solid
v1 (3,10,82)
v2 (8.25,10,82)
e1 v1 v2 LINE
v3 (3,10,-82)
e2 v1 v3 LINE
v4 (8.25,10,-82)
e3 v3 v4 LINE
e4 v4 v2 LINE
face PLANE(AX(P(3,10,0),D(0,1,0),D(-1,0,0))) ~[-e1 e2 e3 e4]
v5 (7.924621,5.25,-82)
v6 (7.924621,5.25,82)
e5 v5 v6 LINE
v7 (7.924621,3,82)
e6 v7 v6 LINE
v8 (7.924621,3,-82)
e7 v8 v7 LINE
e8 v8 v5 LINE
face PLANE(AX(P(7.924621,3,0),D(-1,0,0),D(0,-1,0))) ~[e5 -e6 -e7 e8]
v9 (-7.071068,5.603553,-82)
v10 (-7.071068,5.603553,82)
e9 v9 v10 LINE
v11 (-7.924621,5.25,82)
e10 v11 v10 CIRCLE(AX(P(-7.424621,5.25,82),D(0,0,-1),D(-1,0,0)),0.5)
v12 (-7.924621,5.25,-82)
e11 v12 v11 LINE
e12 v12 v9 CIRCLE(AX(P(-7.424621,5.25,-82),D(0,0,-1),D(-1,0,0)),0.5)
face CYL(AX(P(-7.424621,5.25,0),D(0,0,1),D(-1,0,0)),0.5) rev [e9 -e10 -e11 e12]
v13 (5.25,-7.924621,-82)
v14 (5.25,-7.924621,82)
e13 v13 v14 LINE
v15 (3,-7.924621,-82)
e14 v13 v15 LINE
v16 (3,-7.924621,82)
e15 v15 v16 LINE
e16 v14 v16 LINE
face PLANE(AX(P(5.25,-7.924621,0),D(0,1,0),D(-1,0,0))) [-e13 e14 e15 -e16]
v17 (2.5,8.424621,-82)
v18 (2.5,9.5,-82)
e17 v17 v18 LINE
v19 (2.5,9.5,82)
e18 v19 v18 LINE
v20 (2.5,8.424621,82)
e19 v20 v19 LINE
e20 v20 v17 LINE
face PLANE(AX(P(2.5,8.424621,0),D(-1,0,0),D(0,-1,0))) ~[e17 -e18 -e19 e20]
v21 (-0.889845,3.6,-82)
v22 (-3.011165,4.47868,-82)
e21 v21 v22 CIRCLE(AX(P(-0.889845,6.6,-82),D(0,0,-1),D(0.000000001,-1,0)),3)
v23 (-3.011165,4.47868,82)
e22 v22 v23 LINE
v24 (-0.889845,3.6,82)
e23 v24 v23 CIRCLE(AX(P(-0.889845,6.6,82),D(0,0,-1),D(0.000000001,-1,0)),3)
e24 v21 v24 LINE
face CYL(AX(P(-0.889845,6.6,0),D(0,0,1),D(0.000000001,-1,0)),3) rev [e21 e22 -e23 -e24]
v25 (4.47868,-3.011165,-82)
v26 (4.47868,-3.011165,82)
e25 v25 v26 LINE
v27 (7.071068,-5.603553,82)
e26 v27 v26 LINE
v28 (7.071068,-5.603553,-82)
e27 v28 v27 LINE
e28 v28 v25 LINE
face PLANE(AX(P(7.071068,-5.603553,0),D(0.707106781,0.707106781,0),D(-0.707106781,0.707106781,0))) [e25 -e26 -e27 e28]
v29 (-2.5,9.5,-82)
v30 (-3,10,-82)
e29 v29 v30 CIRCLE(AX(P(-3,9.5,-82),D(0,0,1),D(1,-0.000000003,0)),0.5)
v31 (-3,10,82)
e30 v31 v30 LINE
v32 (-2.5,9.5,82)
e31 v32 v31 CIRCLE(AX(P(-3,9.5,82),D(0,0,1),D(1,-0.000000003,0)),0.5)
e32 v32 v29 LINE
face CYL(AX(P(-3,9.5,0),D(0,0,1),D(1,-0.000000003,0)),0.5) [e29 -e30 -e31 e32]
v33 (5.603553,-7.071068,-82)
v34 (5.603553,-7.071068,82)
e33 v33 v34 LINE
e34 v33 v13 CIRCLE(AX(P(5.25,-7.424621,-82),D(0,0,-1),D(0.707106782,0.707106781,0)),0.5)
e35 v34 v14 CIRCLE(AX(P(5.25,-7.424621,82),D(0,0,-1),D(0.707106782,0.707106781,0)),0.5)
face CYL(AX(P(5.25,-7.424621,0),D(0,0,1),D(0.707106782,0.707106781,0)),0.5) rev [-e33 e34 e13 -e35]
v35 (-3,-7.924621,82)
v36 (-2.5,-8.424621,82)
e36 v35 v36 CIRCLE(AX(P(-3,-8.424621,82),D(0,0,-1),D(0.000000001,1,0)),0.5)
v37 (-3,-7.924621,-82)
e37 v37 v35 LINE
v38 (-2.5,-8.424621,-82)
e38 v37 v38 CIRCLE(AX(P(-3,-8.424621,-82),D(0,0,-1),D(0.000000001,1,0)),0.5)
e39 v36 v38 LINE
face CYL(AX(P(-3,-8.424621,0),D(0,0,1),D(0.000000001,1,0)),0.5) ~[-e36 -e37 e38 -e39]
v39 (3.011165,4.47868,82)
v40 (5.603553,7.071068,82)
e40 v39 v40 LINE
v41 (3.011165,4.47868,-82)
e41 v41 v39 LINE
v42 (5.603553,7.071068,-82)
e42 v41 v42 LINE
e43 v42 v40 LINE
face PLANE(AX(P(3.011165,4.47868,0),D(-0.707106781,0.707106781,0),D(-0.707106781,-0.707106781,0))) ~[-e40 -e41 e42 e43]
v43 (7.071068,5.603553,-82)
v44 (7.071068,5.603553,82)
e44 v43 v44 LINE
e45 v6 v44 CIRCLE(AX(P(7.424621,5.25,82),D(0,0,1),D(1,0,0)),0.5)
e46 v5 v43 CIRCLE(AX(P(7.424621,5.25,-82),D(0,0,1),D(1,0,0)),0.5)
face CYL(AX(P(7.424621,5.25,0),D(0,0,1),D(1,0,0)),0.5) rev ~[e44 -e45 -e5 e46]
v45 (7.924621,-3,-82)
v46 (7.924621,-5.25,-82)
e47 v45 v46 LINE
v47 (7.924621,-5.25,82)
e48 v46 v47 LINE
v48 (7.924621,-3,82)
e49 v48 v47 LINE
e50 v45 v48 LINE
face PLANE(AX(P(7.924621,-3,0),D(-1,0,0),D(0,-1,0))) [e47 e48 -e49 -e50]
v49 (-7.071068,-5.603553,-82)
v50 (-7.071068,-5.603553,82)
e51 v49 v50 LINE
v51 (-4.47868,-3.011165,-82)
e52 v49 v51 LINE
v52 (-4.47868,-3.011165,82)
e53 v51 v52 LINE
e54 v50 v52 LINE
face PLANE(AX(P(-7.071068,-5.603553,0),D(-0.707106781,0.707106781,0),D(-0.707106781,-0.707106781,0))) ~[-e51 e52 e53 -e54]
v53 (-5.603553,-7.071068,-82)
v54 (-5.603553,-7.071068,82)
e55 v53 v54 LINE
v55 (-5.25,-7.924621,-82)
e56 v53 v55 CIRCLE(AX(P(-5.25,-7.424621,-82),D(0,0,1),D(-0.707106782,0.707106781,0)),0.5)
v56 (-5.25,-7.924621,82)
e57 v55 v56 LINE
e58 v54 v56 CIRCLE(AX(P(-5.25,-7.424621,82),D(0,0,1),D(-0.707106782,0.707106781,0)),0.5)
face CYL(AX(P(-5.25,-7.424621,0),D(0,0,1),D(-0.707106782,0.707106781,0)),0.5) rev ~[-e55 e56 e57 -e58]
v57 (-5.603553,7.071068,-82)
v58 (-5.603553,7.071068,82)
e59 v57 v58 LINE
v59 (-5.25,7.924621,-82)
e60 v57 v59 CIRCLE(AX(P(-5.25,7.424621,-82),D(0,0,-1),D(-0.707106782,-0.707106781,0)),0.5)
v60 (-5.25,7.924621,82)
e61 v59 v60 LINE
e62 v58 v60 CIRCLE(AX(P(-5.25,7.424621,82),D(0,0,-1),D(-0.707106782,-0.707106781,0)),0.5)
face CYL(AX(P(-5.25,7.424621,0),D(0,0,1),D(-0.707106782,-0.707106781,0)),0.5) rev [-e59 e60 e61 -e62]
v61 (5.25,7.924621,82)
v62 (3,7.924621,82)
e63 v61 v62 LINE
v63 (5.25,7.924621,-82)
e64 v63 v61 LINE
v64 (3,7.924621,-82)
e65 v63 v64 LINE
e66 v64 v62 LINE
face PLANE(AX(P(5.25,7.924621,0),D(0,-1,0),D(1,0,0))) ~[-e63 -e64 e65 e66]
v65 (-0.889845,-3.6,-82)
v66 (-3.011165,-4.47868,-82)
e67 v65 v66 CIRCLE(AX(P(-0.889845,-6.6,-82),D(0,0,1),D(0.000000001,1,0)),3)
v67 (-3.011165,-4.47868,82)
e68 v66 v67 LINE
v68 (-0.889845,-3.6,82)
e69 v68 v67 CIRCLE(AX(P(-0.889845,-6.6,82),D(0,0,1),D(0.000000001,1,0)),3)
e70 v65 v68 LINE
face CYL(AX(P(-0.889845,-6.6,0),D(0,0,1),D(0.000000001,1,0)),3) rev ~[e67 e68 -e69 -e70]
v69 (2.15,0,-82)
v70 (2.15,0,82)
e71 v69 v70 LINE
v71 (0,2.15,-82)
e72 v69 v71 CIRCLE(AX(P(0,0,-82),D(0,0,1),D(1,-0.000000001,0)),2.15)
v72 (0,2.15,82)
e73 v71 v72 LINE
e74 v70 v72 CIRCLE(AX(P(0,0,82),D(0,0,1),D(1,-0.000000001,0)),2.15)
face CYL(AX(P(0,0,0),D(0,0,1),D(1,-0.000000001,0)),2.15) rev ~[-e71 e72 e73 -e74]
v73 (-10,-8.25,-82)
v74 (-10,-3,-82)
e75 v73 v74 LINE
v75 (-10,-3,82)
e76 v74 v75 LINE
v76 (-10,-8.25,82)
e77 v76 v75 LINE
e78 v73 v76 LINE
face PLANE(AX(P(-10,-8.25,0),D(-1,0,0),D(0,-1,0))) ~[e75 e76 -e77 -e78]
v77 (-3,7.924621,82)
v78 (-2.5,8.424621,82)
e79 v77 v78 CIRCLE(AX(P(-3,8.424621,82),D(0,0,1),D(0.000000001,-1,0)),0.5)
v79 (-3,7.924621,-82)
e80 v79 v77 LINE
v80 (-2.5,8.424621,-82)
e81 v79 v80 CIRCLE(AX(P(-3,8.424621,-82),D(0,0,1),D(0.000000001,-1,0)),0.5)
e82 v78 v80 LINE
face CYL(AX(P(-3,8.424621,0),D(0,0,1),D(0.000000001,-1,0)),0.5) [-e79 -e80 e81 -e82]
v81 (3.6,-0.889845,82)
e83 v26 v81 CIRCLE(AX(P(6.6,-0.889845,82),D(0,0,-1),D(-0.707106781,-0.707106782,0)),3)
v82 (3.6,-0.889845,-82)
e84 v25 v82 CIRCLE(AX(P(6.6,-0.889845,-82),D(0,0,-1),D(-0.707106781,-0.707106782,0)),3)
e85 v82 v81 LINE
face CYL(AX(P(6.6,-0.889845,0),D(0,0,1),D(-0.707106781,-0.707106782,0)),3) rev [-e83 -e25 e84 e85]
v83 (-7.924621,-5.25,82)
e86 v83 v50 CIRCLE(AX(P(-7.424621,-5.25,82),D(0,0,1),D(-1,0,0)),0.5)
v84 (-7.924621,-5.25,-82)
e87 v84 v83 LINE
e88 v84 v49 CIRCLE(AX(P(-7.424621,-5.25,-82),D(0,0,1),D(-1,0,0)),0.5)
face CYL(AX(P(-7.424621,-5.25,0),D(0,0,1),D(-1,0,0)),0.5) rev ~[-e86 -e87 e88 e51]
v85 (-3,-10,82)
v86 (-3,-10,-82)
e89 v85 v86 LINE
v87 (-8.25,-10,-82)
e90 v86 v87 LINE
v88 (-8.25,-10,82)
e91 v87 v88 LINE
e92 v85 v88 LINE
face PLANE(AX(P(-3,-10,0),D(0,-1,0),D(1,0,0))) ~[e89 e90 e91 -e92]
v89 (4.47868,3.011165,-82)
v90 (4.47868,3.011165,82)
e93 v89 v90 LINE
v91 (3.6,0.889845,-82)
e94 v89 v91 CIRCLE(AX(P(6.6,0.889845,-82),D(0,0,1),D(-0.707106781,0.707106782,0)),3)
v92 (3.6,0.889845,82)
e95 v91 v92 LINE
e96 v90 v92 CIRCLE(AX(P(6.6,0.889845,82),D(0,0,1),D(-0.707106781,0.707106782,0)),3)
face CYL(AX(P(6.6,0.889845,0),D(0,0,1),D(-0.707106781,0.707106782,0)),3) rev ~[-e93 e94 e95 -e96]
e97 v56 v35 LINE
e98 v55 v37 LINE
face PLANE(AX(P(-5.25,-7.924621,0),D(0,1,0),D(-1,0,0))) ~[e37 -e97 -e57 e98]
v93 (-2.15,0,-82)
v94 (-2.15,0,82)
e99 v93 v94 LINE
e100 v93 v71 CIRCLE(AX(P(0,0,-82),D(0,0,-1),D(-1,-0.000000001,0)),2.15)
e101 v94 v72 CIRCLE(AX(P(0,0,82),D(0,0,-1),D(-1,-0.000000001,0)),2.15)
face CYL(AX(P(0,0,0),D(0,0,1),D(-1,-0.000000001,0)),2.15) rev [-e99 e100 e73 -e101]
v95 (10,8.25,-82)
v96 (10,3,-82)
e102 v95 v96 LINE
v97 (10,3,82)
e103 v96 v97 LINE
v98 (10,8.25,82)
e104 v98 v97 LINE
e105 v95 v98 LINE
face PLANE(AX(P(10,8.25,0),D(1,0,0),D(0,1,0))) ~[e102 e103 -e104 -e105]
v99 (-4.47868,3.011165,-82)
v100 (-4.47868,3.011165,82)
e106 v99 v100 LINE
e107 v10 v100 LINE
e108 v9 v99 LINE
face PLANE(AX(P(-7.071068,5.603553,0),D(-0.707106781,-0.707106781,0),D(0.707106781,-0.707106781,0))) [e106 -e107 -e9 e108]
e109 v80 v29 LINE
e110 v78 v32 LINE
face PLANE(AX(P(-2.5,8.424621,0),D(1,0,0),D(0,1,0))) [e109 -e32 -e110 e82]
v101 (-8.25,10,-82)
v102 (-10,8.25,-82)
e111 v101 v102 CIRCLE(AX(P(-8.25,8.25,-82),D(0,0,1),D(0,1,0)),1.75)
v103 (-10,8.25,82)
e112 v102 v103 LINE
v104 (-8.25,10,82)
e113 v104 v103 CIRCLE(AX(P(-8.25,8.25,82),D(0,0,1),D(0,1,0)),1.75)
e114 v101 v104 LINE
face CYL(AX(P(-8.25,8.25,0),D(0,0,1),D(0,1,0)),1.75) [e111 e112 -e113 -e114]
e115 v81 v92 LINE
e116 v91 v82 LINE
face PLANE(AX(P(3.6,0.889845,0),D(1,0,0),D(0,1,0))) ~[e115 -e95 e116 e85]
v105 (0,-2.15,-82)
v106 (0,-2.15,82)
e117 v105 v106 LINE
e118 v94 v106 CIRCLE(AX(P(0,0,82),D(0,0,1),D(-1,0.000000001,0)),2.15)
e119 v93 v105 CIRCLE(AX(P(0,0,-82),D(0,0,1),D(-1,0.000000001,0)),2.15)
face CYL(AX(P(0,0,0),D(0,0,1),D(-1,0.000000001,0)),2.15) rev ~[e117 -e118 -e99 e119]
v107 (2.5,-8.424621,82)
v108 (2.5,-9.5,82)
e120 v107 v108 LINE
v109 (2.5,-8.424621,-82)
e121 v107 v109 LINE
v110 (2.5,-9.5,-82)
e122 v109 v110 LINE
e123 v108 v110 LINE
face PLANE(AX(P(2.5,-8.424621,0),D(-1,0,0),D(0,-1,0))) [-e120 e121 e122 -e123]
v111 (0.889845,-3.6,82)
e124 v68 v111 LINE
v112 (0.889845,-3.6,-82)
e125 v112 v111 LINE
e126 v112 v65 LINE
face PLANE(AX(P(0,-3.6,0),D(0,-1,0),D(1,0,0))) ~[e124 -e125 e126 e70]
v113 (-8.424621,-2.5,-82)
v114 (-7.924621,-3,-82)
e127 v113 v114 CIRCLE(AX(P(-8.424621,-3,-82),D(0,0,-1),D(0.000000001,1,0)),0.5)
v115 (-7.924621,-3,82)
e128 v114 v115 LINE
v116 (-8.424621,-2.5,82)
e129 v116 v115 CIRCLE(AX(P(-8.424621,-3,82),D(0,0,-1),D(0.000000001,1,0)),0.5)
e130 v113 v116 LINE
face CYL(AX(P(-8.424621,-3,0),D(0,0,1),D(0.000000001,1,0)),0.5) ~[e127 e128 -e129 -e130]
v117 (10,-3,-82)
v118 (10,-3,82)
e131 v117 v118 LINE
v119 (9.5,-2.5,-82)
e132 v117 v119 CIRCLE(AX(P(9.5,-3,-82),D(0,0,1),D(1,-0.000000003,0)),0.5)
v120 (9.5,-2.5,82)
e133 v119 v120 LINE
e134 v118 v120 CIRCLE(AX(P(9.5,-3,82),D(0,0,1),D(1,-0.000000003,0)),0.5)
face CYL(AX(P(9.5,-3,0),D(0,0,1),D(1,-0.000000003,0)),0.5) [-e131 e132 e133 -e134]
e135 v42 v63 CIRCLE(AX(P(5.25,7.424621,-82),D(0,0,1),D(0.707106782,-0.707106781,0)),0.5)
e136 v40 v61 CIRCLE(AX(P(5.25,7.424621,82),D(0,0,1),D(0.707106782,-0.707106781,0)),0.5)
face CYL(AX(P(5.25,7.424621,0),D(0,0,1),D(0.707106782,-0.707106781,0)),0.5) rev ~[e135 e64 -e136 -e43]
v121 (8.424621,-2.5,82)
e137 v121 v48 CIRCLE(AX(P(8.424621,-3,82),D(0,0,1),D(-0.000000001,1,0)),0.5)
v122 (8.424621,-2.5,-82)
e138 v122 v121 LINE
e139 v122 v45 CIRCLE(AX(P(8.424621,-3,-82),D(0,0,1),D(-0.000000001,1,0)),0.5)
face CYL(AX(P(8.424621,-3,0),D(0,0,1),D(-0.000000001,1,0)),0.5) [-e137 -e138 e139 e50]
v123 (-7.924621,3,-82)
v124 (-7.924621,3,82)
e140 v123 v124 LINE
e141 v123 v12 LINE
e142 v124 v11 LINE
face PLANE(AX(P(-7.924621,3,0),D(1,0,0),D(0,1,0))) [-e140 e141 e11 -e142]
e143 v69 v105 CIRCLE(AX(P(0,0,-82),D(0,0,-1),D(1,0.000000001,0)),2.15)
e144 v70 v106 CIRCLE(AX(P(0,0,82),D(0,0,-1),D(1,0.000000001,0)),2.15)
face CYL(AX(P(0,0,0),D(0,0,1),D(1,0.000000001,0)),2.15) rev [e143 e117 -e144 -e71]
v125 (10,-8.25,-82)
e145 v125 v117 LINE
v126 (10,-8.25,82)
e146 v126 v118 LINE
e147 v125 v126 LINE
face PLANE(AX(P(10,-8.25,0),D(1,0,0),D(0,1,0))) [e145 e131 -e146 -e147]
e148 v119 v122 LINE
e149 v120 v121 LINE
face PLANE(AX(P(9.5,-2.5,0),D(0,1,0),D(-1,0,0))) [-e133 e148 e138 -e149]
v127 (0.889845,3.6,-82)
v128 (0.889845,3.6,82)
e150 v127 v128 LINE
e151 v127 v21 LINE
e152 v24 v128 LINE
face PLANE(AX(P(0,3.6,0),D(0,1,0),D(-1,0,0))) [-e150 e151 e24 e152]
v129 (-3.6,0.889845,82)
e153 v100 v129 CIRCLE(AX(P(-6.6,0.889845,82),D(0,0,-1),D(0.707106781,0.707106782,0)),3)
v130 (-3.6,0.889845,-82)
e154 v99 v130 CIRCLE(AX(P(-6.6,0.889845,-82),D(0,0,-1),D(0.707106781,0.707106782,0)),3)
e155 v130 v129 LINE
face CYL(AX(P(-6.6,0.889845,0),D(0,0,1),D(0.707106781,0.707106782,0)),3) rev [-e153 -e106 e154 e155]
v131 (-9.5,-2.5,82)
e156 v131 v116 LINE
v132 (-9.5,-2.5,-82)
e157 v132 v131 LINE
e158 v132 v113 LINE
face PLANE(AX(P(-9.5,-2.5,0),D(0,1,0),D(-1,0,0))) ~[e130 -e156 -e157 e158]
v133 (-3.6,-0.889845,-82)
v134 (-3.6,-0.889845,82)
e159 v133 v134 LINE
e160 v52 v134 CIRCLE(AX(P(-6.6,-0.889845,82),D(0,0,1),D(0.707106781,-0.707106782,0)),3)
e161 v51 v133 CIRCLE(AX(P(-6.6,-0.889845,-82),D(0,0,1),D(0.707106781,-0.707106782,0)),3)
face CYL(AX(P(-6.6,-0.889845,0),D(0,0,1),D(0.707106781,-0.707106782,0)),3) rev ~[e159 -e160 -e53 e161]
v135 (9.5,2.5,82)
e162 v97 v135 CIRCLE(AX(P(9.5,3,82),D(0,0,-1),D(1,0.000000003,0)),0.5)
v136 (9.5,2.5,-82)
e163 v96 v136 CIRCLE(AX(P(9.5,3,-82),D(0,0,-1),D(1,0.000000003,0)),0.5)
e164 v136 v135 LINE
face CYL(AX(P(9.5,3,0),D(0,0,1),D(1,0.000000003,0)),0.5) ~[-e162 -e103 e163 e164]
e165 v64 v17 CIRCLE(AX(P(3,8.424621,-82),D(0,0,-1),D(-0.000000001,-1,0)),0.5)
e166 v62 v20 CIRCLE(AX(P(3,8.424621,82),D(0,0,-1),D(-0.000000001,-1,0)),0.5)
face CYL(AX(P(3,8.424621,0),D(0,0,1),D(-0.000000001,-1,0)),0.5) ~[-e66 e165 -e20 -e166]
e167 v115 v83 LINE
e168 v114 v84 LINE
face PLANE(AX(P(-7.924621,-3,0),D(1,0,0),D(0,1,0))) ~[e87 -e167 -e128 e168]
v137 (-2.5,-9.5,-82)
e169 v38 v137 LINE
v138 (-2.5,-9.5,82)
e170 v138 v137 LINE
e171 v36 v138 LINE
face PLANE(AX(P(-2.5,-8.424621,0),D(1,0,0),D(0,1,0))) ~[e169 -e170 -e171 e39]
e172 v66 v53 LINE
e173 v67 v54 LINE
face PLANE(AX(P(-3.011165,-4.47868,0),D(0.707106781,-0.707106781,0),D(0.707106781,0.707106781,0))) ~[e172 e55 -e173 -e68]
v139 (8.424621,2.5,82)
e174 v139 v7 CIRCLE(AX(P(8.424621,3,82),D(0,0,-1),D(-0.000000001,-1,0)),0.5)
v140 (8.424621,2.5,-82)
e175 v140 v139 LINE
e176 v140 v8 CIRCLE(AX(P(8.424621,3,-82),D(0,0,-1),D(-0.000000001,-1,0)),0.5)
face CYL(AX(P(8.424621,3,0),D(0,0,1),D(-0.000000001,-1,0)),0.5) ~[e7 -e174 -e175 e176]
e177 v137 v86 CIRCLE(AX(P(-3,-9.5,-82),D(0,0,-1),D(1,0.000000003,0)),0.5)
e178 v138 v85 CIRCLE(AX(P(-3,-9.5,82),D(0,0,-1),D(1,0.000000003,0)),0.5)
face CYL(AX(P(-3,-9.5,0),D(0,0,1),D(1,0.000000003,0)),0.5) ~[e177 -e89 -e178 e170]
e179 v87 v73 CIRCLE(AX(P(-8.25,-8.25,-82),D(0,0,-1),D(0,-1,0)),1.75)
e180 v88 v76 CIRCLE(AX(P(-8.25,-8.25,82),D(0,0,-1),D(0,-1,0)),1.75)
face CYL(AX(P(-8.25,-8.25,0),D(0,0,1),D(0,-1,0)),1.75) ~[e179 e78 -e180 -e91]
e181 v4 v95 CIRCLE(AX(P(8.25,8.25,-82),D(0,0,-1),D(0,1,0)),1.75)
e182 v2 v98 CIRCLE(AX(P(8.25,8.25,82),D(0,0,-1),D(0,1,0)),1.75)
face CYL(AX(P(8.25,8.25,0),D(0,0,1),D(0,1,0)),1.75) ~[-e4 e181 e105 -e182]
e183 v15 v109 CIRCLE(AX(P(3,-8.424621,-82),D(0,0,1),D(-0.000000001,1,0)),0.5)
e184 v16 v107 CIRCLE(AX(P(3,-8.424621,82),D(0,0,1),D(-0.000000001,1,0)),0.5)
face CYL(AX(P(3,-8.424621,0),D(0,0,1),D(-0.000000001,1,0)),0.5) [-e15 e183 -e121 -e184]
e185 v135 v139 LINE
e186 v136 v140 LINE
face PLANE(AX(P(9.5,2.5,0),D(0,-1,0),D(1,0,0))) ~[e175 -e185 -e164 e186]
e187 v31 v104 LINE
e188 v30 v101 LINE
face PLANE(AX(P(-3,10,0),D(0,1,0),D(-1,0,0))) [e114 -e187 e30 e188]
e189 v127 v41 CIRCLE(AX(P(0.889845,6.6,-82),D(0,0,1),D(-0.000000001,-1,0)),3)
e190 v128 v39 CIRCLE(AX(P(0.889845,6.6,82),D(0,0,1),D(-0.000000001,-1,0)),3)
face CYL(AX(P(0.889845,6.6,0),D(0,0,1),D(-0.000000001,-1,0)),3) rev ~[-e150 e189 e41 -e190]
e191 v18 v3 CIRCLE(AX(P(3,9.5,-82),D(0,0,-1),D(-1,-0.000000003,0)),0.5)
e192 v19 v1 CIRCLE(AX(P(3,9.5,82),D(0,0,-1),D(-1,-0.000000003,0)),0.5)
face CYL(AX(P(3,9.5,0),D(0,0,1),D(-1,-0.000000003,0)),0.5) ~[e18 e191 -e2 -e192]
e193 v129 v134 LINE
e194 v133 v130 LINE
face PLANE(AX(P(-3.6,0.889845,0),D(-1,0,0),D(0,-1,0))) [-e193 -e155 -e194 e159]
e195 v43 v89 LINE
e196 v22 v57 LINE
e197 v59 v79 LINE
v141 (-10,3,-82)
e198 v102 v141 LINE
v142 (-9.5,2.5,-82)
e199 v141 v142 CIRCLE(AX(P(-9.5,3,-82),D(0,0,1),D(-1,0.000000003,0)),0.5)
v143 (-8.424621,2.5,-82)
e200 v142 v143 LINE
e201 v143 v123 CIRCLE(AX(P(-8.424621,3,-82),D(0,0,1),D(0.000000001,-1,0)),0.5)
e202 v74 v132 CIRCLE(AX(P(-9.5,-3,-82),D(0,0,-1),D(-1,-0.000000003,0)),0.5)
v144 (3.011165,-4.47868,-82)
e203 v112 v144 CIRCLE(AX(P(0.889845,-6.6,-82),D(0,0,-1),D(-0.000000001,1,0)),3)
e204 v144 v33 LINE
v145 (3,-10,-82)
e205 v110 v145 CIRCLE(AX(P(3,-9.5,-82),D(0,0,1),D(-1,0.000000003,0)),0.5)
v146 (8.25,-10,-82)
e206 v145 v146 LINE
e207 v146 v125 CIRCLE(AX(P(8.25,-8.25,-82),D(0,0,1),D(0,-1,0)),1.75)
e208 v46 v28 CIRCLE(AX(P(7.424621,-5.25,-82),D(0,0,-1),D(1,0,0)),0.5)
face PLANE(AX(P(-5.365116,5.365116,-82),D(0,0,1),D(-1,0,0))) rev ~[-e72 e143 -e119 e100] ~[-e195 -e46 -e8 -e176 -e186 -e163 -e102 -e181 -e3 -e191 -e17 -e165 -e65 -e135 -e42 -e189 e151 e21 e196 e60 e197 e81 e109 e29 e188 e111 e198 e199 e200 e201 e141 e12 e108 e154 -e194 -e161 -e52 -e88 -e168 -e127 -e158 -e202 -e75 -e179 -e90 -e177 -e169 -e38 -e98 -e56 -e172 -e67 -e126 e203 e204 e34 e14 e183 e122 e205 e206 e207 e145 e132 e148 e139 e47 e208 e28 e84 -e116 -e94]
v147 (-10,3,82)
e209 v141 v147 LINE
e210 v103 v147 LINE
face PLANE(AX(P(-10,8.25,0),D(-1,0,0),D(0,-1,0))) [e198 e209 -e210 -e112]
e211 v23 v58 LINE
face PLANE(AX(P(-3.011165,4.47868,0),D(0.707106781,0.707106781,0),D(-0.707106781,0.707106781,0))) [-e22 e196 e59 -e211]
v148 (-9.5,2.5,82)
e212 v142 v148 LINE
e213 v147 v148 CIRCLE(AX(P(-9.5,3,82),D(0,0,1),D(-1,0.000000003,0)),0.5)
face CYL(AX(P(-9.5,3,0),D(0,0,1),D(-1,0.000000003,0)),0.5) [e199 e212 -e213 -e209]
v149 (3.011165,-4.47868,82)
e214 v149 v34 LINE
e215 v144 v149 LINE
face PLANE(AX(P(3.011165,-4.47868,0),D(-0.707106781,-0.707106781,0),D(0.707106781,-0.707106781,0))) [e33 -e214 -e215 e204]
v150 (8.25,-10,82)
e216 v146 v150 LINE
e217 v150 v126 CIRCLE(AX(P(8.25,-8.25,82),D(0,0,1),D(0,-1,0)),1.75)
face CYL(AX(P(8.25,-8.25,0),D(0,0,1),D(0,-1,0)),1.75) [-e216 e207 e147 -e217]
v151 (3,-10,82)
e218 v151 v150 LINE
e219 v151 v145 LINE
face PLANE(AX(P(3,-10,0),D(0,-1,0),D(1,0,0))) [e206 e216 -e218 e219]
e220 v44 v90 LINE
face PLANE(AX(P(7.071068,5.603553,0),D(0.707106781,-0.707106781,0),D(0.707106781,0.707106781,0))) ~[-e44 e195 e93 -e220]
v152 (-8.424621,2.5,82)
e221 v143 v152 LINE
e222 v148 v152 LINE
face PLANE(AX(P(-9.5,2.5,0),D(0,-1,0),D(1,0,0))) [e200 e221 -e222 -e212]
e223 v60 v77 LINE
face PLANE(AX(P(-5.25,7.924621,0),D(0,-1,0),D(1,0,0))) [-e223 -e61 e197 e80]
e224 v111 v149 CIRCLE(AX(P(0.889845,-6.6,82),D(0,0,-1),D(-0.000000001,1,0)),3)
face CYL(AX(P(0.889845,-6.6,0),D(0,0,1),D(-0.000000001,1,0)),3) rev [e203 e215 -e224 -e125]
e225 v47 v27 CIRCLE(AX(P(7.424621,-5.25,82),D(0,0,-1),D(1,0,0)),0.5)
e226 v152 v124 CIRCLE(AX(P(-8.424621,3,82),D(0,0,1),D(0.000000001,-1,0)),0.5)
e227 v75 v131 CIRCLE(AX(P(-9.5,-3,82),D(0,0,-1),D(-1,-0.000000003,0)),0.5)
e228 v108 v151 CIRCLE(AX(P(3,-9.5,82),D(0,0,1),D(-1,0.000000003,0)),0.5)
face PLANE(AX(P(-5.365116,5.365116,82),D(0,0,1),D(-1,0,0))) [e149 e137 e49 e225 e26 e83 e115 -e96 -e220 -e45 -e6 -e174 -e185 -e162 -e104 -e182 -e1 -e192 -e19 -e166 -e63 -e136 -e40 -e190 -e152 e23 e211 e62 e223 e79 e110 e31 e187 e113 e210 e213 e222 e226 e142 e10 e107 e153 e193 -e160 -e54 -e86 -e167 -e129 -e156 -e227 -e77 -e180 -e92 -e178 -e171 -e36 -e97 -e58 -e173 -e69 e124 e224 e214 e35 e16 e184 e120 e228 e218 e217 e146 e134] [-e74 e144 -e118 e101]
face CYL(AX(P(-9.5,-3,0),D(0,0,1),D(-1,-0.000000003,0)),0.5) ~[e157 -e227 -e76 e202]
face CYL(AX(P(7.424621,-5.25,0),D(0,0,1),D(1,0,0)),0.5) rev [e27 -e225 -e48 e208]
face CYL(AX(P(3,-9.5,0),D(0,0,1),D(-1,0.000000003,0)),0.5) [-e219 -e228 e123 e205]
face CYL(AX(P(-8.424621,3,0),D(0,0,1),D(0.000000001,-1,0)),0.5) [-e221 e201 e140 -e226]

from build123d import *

# Parameters (mm, degrees)
BOSS_EXTRUDE1_DEPTH = 82


with BuildPart() as part:
    # Sketch4 → Boss-Extrude1 (new body, symmetric)
    with BuildSketch(Plane.XY):
        with BuildLine():
            Line((3, -10), (8.25, -10))
            ThreePointArc((8.25, -10), (9.487436867, -9.487436867), (10, -8.25))
            Line((10, -8.25), (10, -3))
            ThreePointArc((10, -3), (9.853553391, -2.646446609), (9.5, -2.5))
            Line((9.5, -2.5), (8.424621202, -2.5))
            ThreePointArc((8.424621202, -2.5), (8.071067812, -2.646446609), (7.924621202, -3))
            Line((7.924621202, -3), (7.924621202, -5.25))
            ThreePointArc((7.924621202, -5.25), (7.615962919, -5.711939766), (7.071067812, -5.603553391))
            Line((7.071067812, -5.603553391), (4.478679656, -3.011165235))
            ThreePointArc((4.478679656, -3.011165235), (3.828361402, -2.037895189), (3.6, -0.889844892))
            Line((3.6, -0.889844892), (3.6, 0))
            Line((3.6, 0), (2.15, 0))
            ThreePointArc((2.15, 0), (1.52027958, -1.52027958), (0, -2.15))
            Line((0, -2.15), (0, -3.6))
            Line((0, -3.6), (0.889844892, -3.6))
            ThreePointArc((0.889844892, -3.6), (2.037895189, -3.828361402), (3.011165235, -4.478679656))
            Line((3.011165235, -4.478679656), (5.603553391, -7.071067812))
            ThreePointArc((5.603553391, -7.071067812), (5.711939766, -7.615962919), (5.25, -7.924621202))
            Line((5.25, -7.924621202), (3, -7.924621202))
            ThreePointArc((3, -7.924621202), (2.646446609, -8.071067812), (2.5, -8.424621202))
            Line((2.5, -8.424621202), (2.5, -9.5))
            ThreePointArc((2.5, -9.5), (2.646446609, -9.853553391), (3, -10))
        make_face()
    extrude(amount=BOSS_EXTRUDE1_DEPTH, both=True)

    # Mirror1: part across plane


with BuildPart() as part_1:
    add(part.part)
    add(part.part.mirror(Plane(origin=(0, 0, 0), x_dir=(0, 0, 1), z_dir=(1, 0, 0))))

    # Mirror2: part across plane


with BuildPart() as part_2:
    add(part_1.part)
    add(part_1.part.mirror(Plane.ZX))


solid = part_2.part
